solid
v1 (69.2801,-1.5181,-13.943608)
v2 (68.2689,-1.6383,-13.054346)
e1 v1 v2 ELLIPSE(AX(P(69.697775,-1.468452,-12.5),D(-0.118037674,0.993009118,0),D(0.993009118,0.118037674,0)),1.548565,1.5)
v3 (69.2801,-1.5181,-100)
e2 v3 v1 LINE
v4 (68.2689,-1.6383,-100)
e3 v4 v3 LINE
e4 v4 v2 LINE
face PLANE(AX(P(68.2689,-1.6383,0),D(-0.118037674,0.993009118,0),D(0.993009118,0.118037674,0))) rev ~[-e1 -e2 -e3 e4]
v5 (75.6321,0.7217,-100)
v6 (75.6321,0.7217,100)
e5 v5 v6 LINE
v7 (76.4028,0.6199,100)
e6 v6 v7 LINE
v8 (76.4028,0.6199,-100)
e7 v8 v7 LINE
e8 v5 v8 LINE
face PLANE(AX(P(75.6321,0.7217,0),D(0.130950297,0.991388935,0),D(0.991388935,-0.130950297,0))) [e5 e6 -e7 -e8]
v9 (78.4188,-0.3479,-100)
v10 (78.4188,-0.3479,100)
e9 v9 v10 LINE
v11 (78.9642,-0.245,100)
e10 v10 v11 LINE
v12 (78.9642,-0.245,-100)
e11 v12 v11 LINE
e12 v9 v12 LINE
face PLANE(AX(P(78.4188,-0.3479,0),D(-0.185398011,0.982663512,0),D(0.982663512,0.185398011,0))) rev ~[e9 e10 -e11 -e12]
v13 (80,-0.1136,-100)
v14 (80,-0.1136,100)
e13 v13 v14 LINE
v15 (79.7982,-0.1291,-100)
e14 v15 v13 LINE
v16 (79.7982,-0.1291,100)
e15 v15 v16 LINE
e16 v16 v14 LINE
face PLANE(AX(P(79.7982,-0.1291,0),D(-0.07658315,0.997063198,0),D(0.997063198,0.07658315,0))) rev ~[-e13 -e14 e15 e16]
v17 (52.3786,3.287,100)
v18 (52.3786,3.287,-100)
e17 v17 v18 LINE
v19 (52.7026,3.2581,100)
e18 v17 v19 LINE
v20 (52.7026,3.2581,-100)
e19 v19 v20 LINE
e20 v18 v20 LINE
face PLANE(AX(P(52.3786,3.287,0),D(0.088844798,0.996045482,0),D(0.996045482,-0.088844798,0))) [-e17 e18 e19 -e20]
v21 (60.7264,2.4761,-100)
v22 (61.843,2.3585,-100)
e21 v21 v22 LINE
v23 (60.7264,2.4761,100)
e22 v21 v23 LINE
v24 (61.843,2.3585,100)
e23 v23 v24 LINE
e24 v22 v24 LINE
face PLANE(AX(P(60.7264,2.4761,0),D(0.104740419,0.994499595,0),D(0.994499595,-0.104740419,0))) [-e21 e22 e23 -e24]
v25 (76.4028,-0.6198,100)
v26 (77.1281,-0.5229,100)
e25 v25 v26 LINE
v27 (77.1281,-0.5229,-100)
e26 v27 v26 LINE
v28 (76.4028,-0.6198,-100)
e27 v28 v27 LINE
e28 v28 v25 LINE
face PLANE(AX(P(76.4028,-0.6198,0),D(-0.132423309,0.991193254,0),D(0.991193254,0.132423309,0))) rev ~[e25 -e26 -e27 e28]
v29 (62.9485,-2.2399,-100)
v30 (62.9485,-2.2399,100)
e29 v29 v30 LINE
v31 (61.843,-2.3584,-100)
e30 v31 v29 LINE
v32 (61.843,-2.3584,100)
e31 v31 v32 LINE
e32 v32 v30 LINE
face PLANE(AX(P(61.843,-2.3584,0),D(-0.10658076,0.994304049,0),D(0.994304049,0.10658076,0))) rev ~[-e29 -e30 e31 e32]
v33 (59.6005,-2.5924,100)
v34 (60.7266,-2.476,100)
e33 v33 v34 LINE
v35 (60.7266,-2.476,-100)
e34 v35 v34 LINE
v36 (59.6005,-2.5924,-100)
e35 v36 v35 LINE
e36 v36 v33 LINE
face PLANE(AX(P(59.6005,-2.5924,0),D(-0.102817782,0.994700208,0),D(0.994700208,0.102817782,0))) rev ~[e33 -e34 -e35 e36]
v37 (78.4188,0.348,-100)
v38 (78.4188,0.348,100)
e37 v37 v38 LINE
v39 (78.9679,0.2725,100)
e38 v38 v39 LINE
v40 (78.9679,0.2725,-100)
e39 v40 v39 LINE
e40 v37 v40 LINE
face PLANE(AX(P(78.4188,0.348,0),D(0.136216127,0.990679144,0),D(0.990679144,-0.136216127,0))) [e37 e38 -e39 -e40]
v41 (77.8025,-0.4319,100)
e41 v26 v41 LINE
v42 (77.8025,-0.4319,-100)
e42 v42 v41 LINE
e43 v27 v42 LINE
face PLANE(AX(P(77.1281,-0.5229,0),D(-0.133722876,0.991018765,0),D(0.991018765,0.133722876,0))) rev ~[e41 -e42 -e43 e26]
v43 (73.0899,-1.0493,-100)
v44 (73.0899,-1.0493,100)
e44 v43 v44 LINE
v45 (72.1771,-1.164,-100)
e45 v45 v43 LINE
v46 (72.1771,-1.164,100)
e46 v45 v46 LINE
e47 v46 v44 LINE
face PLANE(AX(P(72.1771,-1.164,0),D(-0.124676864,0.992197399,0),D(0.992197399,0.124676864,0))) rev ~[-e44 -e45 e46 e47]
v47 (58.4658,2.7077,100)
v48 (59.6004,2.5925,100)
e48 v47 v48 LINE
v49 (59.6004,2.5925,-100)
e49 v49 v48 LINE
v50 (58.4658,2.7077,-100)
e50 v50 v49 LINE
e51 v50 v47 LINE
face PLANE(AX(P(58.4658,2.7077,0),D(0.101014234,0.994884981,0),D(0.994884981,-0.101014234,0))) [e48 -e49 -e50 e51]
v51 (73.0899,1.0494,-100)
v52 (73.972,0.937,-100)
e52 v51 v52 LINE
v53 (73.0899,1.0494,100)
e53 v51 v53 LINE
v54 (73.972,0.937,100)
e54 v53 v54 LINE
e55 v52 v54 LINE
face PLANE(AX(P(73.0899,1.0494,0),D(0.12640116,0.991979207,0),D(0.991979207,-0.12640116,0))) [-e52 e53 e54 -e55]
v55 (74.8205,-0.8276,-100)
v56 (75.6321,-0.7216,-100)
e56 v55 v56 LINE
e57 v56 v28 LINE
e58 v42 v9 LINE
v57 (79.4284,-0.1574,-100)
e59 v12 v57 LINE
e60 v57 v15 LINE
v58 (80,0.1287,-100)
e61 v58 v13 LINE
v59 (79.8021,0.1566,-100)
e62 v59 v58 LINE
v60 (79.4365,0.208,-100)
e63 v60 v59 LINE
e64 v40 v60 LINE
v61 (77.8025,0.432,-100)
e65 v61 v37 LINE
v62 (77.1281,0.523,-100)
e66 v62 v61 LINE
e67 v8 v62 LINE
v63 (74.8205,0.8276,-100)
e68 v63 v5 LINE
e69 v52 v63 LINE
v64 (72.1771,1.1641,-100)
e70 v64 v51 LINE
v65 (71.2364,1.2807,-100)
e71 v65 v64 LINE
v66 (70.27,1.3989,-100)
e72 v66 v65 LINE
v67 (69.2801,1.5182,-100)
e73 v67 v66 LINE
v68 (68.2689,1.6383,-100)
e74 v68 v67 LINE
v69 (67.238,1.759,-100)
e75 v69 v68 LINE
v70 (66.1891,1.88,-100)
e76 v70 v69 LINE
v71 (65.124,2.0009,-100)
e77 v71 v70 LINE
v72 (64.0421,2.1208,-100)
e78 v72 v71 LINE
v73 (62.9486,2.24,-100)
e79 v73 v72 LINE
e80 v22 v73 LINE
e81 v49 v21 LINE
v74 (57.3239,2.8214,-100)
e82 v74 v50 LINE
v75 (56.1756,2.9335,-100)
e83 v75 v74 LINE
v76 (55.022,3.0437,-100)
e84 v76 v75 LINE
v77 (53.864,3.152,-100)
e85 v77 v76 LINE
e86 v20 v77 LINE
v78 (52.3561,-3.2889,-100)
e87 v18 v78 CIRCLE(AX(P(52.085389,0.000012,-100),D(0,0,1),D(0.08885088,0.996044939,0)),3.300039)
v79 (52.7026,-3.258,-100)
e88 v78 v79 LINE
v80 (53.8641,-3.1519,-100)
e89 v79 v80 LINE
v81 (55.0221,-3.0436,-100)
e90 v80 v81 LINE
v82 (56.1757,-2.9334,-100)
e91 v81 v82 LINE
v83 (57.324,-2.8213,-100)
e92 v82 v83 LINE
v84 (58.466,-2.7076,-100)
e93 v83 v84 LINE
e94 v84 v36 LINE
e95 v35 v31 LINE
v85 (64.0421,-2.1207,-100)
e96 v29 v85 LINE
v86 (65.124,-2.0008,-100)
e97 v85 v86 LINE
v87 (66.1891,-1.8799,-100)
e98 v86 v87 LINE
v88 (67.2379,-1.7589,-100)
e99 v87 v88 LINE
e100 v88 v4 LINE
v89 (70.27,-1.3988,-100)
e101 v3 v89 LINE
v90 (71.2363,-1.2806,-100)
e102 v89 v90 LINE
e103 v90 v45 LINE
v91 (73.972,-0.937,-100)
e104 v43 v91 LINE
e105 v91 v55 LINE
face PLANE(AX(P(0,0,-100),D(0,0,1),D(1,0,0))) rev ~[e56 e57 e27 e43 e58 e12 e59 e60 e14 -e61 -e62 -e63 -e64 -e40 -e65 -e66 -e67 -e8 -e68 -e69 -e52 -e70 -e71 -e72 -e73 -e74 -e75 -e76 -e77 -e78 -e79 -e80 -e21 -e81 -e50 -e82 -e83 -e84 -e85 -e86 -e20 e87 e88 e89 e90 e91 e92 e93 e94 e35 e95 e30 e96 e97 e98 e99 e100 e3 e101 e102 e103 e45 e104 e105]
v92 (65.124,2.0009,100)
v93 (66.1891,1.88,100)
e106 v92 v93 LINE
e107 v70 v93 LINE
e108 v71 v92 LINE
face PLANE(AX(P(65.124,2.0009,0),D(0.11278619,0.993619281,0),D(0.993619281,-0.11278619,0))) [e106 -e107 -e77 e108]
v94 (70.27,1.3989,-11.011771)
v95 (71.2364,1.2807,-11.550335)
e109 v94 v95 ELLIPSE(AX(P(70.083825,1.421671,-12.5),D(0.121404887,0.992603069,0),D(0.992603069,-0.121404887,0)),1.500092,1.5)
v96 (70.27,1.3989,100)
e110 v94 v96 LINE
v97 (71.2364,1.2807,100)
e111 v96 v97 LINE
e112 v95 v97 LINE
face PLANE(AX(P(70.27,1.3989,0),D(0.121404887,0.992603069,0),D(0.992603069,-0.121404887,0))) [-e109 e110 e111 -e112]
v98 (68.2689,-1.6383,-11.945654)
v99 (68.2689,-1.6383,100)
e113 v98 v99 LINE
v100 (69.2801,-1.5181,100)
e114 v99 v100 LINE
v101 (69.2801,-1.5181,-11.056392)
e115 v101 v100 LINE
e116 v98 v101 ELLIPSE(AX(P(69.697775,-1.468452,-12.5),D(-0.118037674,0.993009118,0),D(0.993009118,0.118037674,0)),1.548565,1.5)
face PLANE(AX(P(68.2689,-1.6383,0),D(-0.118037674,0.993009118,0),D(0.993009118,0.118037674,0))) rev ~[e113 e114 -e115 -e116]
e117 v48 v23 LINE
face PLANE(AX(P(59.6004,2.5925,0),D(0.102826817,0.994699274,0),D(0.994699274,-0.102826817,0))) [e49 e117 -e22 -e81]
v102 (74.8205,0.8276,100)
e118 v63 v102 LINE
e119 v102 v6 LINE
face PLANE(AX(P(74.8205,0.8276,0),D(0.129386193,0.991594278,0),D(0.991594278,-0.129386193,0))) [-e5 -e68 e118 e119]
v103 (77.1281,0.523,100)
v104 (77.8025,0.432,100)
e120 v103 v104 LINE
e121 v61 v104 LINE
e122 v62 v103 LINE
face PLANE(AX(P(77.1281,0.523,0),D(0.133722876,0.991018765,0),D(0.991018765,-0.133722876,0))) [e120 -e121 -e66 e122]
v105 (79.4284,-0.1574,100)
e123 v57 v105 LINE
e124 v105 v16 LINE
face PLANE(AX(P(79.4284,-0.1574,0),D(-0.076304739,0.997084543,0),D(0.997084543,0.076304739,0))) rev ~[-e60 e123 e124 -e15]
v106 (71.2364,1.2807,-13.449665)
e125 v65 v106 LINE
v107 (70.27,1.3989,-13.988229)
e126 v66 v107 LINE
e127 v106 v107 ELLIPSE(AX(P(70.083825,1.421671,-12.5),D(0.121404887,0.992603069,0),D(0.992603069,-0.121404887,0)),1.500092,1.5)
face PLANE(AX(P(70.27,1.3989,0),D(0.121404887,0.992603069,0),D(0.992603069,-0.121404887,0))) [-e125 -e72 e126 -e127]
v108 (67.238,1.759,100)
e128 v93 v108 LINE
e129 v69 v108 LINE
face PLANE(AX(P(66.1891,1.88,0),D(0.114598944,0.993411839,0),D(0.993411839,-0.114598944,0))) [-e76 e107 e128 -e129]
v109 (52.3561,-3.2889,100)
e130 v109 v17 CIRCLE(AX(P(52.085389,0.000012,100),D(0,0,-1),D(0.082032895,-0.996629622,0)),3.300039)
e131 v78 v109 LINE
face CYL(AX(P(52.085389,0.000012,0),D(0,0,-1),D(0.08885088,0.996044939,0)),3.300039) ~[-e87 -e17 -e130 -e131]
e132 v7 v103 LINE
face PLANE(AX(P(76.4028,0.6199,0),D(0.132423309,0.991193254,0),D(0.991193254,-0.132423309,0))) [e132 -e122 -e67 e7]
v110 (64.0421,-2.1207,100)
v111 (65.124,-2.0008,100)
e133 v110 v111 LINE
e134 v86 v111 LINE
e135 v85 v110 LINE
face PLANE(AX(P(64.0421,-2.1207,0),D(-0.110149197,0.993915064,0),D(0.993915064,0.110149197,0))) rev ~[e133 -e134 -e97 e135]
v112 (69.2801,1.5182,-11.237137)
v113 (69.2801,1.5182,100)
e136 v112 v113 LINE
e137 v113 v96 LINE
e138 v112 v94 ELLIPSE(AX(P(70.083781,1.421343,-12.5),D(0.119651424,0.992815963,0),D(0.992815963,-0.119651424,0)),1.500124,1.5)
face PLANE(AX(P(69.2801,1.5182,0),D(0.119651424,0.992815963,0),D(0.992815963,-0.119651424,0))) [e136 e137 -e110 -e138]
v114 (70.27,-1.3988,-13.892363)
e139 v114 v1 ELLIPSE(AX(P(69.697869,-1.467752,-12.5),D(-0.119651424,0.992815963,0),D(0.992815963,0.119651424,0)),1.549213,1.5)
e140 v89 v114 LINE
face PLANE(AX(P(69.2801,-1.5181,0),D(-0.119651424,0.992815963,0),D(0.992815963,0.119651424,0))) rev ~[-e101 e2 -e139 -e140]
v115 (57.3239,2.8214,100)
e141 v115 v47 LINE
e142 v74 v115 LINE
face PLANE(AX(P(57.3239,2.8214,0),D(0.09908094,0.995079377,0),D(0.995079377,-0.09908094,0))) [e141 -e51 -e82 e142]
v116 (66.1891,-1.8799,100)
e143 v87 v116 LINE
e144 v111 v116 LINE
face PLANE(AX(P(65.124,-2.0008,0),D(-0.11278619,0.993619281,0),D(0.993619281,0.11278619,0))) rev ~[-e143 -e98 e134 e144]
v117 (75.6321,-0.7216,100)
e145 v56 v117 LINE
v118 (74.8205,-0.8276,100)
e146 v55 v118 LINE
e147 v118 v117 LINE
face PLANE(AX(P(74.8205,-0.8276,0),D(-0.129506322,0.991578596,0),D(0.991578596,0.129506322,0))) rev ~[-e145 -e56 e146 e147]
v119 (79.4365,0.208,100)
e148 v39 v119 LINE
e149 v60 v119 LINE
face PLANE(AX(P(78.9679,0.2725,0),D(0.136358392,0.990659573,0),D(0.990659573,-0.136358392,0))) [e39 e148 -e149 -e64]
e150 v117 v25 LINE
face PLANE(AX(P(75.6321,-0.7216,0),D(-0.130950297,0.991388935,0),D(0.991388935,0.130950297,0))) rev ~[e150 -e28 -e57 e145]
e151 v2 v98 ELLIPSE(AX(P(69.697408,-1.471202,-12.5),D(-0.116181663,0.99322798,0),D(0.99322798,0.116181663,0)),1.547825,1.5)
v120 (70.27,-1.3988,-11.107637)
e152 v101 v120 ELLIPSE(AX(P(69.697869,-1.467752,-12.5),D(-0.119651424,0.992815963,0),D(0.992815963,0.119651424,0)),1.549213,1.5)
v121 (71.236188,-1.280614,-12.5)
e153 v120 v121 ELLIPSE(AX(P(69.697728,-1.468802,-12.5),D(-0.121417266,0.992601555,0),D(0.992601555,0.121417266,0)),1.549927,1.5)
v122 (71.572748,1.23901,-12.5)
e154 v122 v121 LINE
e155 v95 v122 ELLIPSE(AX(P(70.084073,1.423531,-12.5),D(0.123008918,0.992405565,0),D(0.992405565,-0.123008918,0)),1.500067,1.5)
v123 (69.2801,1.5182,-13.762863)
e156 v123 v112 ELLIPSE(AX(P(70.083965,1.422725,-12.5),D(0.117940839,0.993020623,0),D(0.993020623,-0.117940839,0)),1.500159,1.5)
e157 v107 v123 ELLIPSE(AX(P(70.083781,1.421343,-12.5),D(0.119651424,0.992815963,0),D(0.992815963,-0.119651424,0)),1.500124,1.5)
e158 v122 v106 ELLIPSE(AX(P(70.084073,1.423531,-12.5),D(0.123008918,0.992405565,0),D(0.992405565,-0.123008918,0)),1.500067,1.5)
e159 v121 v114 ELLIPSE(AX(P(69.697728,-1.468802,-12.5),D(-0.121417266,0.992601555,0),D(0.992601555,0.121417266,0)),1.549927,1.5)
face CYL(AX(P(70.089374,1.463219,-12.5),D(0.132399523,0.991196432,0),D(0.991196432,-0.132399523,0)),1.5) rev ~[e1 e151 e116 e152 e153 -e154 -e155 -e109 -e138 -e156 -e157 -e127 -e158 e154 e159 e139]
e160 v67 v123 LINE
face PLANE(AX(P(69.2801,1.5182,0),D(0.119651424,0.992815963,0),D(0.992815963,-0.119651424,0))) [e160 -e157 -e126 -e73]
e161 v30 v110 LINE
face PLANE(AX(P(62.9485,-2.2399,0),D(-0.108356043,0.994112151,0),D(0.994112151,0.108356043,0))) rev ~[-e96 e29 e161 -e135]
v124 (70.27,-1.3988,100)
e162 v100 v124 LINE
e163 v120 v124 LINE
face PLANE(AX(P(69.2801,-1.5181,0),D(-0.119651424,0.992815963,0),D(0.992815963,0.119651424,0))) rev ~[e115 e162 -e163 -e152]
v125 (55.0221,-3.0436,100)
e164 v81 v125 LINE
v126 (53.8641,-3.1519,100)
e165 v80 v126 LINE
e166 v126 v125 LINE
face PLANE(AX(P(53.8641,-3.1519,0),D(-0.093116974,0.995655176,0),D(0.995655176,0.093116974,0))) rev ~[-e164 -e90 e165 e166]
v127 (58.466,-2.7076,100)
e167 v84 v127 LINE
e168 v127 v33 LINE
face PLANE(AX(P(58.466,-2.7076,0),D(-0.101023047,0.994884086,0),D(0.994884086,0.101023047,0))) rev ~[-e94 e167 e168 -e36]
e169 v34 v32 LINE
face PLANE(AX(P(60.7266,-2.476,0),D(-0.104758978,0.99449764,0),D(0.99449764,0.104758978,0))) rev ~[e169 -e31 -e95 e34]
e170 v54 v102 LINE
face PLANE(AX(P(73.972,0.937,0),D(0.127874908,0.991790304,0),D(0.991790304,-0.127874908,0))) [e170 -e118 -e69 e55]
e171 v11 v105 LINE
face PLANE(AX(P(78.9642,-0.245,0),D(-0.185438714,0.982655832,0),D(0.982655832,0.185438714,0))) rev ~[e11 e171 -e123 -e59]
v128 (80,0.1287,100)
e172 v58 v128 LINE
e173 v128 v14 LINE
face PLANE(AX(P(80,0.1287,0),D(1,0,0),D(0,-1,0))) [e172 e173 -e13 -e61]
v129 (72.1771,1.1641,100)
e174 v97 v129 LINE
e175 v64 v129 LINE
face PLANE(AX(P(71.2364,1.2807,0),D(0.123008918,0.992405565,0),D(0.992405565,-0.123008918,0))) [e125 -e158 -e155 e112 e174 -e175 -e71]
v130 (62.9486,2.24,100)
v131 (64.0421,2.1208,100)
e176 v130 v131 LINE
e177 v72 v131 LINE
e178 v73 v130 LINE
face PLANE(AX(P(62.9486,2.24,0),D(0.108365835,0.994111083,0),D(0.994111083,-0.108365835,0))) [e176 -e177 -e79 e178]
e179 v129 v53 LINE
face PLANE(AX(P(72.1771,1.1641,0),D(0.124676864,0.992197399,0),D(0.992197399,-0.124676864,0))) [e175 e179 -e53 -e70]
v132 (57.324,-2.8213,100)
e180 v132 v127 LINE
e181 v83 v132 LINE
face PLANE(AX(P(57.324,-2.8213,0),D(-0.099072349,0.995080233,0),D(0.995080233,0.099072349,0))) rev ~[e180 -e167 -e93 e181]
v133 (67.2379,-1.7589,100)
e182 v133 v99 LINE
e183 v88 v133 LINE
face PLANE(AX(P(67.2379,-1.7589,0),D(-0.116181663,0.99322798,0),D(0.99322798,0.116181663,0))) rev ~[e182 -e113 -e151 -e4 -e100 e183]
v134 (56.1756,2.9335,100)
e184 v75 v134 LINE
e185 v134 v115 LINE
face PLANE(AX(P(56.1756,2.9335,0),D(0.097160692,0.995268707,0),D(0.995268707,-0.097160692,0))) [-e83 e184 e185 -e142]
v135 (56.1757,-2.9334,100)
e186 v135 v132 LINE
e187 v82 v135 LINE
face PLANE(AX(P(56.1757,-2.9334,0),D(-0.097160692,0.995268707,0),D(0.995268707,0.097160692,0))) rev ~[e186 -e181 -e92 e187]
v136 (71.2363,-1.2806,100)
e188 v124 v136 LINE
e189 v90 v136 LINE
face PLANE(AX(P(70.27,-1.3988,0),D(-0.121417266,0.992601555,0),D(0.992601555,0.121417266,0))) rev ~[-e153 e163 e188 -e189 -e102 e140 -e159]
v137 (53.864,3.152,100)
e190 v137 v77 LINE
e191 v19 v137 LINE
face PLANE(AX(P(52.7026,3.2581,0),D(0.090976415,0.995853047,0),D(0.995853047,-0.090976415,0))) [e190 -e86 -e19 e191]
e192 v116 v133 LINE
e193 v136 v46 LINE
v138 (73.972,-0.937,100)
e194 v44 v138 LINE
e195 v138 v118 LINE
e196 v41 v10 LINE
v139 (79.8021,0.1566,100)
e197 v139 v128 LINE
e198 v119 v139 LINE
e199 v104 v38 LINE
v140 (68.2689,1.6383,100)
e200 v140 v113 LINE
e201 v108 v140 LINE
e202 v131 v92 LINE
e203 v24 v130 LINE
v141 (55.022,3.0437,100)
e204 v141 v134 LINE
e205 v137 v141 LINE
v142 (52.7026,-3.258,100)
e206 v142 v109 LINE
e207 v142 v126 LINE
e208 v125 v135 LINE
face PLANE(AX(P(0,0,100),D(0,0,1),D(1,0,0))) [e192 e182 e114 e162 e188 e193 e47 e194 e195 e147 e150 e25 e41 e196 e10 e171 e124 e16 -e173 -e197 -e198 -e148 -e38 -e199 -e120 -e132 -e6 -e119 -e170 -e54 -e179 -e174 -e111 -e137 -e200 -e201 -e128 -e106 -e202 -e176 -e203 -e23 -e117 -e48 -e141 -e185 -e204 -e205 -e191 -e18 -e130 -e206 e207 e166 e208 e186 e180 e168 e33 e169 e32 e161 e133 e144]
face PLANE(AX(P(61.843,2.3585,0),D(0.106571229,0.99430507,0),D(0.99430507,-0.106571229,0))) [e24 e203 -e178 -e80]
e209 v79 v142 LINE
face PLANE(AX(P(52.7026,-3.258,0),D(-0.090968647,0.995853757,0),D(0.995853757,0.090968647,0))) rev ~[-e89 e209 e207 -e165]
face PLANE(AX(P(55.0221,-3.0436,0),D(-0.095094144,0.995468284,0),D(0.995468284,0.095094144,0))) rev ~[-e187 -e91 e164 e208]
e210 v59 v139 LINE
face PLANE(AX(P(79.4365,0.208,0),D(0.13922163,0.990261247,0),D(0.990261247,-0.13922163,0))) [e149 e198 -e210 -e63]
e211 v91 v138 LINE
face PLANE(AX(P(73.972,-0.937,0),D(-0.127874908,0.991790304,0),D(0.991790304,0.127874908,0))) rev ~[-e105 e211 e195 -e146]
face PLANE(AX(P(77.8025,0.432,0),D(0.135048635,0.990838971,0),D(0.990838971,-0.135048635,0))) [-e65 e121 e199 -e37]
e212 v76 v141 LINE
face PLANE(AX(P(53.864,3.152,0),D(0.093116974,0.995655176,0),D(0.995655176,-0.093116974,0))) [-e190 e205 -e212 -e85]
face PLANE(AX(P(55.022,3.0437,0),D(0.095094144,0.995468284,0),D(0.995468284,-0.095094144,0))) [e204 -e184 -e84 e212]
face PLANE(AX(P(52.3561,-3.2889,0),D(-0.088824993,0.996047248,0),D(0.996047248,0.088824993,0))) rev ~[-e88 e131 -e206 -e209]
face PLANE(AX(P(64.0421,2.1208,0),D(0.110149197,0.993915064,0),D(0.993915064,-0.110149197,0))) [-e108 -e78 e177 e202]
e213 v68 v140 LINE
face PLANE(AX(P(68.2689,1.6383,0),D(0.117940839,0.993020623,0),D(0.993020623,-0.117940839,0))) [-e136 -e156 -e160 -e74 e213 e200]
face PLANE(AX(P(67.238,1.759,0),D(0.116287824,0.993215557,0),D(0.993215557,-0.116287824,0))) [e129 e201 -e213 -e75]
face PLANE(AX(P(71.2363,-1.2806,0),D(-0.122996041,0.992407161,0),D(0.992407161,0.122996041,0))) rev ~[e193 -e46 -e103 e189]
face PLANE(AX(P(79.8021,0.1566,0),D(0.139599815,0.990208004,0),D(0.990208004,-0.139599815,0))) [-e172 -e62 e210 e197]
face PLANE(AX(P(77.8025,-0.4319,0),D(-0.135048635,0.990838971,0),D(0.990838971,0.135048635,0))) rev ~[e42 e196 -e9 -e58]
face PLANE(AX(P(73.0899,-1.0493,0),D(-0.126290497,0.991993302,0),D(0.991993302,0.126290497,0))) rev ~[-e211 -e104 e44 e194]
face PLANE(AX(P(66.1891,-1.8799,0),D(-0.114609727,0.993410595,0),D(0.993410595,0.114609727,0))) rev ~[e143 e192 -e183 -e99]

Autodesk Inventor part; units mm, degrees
ref_plane "YZ Plane" through (0, 0, 0) normal (1, 0, 0) x (0, 1, 0)
ref_plane "XZ Plane" through (0, 0, 0) normal (0, 1, 0) x (-1, 0, 0)
ref_plane "XY Plane" through (0, 0, 0) normal (0, 0, 1) x (1, 0, 0)
sketch "Náčrt1" plane through (0, 0, 0) normal (0, 0, 1) x (1, 0, 0)
  line L0 (52.3561, -3.2889) -> (52.7026, -3.258)
  line L1 (52.7026, -3.258) -> (53.8641, -3.1519)
  line L2 (53.8641, -3.1519) -> (55.0221, -3.0436)
  line L3 (55.0221, -3.0436) -> (56.1757, -2.9334)
  line L4 (56.1757, -2.9334) -> (57.324, -2.8213)
  line L5 (57.324, -2.8213) -> (58.466, -2.7076)
  line L6 (58.466, -2.7076) -> (59.6005, -2.5924)
  line L7 (59.6005, -2.5924) -> (60.7266, -2.476)
  line L8 (60.7266, -2.476) -> (61.843, -2.3584)
  line L9 (61.843, -2.3584) -> (62.9485, -2.2399)
  line L10 (62.9485, -2.2399) -> (64.0421, -2.1207)
  line L11 (64.0421, -2.1207) -> (65.124, -2.0008)
  line L12 (65.124, -2.0008) -> (66.1891, -1.8799)
  line L13 (66.1891, -1.8799) -> (67.2379, -1.7589)
  line L14 (67.2379, -1.7589) -> (68.2689, -1.6383)
  line L15 (68.2689, -1.6383) -> (69.2801, -1.5181)
  line L16 (69.2801, -1.5181) -> (70.27, -1.3988)
  line L17 (70.27, -1.3988) -> (71.2363, -1.2806)
  line L18 (71.2363, -1.2806) -> (72.1771, -1.164)
  line L19 (72.1771, -1.164) -> (73.0899, -1.0493)
  line L20 (73.0899, -1.0493) -> (73.972, -0.937)
  line L21 (73.972, -0.937) -> (74.8205, -0.8276)
  line L22 (74.8205, -0.8276) -> (75.6321, -0.7216)
  line L23 (75.6321, -0.7216) -> (76.4028, -0.6198)
  line L24 (76.4028, -0.6198) -> (77.1281, -0.5229)
  line L25 (77.1281, -0.5229) -> (77.8025, -0.4319)
  line L26 (77.8025, -0.4319) -> (78.4188, -0.3479)
  line L27 (78.4188, -0.3479) -> (78.9642, -0.245)
  line L28 (78.9642, -0.245) -> (79.4284, -0.1574)
  line L29 (79.4284, -0.1574) -> (79.7982, -0.1291)
  line L30 (79.7982, -0.1291) -> (80, -0.1136)
  line L31 (52.3786, 3.287) -> (52.7026, 3.2581)
  line L32 (52.7026, 3.2581) -> (53.864, 3.152)
  line L33 (53.864, 3.152) -> (55.022, 3.0437)
  line L34 (55.022, 3.0437) -> (56.1756, 2.9335)
  line L35 (56.1756, 2.9335) -> (57.3239, 2.8214)
  line L36 (57.3239, 2.8214) -> (58.4658, 2.7077)
  line L37 (58.4658, 2.7077) -> (59.6004, 2.5925)
  line L38 (59.6004, 2.5925) -> (60.7264, 2.4761)
  line L39 (60.7264, 2.4761) -> (61.843, 2.3585)
  line L40 (61.843, 2.3585) -> (62.9486, 2.24)
  line L41 (62.9486, 2.24) -> (64.0421, 2.1208)
  line L42 (64.0421, 2.1208) -> (65.124, 2.0009)
  line L43 (65.124, 2.0009) -> (66.1891, 1.88)
  line L44 (66.1891, 1.88) -> (67.238, 1.759)
  line L45 (67.238, 1.759) -> (68.2689, 1.6383)
  line L46 (68.2689, 1.6383) -> (69.2801, 1.5182)
  line L47 (69.2801, 1.5182) -> (70.27, 1.3989)
  line L48 (70.27, 1.3989) -> (71.2364, 1.2807)
  line L49 (71.2364, 1.2807) -> (72.1771, 1.1641)
  line L50 (72.1771, 1.1641) -> (73.0899, 1.0494)
  line L51 (73.0899, 1.0494) -> (73.972, 0.937)
  line L52 (73.972, 0.937) -> (74.8205, 0.8276)
  line L53 (74.8205, 0.8276) -> (75.6321, 0.7217)
  line L54 (75.6321, 0.7217) -> (76.4028, 0.6199)
  line L55 (76.4028, 0.6199) -> (77.1281, 0.523)
  line L56 (77.1281, 0.523) -> (77.8025, 0.432)
  line L57 (77.8025, 0.432) -> (78.4188, 0.348)
  line L58 (78.4188, 0.348) -> (78.9679, 0.2725)
  line L59 (78.9679, 0.2725) -> (79.4365, 0.208)
  line L60 (79.4365, 0.208) -> (79.8021, 0.1566)
  line L61 (79.8021, 0.1566) -> (80, 0.1287)
  line L62 (80, 0.1287) -> (80, -0.1136)
  line L63 (49.176, -1.5573) -> (50.2021, -1.4704)
  line L64 (50.2021, -1.4704) -> (51.3632, -1.3695)
  line L65 (51.3632, -1.3695) -> (52.5228, -1.2661)
  line L66 (52.5228, -1.2661) -> (53.68, -1.1604)
  line L67 (53.68, -1.1604) -> (54.8339, -1.0525)
  line L68 (54.8339, -1.0525) -> (55.9835, -0.9426)
  line L69 (55.9835, -0.9426) -> (57.1278, -0.831)
  line L70 (57.1278, -0.831) -> (58.2659, -0.7176)
  line L71 (58.2659, -0.7176) -> (59.3966, -0.6029)
  line L72 (59.3966, -0.6029) -> (60.519, -0.4868)
  line L73 (60.519, -0.4868) -> (61.6317, -0.3696)
  line L74 (61.6317, -0.3696) -> (62.7336, -0.2515)
  line L75 (62.7336, -0.2515) -> (63.8236, -0.1327)
  line L76 (63.8236, -0.1327) -> (65.0211, 0)
  line L77 (65.0211, 0) -> (63.8236, 0.1327)
  line L78 (63.8236, 0.1327) -> (62.7337, 0.2516)
  line L79 (62.7337, 0.2516) -> (61.6317, 0.3697)
  line L80 (61.6317, 0.3697) -> (60.5188, 0.4869)
  line L81 (60.5188, 0.4869) -> (59.3965, 0.6029)
  line L82 (59.3965, 0.6029) -> (58.2657, 0.7177)
  line L83 (58.2657, 0.7177) -> (57.1277, 0.831)
  line L84 (57.1277, 0.831) -> (55.9833, 0.9427)
  line L85 (55.9833, 0.9427) -> (54.8338, 1.0526)
  line L86 (54.8338, 1.0526) -> (53.6799, 1.1604)
  line L87 (53.6799, 1.1604) -> (52.5228, 1.2662)
  line L88 (52.5228, 1.2662) -> (51.3632, 1.3696)
  line L89 (51.3632, 1.3696) -> (50.2021, 1.4705)
  line L90 (50.2021, 1.4705) -> (49.0403, 1.5688)
  arc A0 (52.3786, 3.287) -> (52.401, -3.2849) centre (52.0854, 0) ccw
  dimension "d10" = 3.3
extrude "Vysunutí1" add sketch "Náčrt1" along normal mid plane 200
sketch "Náčrt2" plane through (76.4028, 0.6199, 100) normal (0.1324, 0.9912, 0) x (0.9912, -0.1324, 0)
  circle A0 centre (-6.3695, 112.5) radius 1.5
  line L0 (3.6305, 200) -> (3.6305, 0) projected
  circle A1 centre (-6.3695, 112.5) radius 5
  point P0 (-75.6482, 100)
  point P1 (3.6305, 100)
  dimension "d14" = 3
  dimension "d15" = 12.5
  dimension "d17" = 10
  dimension "d23" = 10
extrude "Vysunutí6" cut sketch "Náčrt2" along normal through all both and the other way through all contours A0
sketch "Náčrt4" plane through (0, 0, 100) normal (0, 0, 1) x (1, 0, 0)
  arc A0 (52.3786, 3.287) -> (52.3561, -3.2889) centre (52.0854, 0) ccw projected
  circle A1 centre (52.0854, 0) radius 2
  circle A2 centre (57.0854, 0) radius 1.5
  point P0 (0, 0)
  dimension "d31" = 4
  dimension "d32" = 3
  dimension "d33" = 5
extrude "Vysunutí7" [suppressed]
properties part number "horizontal_stab_elevator"
